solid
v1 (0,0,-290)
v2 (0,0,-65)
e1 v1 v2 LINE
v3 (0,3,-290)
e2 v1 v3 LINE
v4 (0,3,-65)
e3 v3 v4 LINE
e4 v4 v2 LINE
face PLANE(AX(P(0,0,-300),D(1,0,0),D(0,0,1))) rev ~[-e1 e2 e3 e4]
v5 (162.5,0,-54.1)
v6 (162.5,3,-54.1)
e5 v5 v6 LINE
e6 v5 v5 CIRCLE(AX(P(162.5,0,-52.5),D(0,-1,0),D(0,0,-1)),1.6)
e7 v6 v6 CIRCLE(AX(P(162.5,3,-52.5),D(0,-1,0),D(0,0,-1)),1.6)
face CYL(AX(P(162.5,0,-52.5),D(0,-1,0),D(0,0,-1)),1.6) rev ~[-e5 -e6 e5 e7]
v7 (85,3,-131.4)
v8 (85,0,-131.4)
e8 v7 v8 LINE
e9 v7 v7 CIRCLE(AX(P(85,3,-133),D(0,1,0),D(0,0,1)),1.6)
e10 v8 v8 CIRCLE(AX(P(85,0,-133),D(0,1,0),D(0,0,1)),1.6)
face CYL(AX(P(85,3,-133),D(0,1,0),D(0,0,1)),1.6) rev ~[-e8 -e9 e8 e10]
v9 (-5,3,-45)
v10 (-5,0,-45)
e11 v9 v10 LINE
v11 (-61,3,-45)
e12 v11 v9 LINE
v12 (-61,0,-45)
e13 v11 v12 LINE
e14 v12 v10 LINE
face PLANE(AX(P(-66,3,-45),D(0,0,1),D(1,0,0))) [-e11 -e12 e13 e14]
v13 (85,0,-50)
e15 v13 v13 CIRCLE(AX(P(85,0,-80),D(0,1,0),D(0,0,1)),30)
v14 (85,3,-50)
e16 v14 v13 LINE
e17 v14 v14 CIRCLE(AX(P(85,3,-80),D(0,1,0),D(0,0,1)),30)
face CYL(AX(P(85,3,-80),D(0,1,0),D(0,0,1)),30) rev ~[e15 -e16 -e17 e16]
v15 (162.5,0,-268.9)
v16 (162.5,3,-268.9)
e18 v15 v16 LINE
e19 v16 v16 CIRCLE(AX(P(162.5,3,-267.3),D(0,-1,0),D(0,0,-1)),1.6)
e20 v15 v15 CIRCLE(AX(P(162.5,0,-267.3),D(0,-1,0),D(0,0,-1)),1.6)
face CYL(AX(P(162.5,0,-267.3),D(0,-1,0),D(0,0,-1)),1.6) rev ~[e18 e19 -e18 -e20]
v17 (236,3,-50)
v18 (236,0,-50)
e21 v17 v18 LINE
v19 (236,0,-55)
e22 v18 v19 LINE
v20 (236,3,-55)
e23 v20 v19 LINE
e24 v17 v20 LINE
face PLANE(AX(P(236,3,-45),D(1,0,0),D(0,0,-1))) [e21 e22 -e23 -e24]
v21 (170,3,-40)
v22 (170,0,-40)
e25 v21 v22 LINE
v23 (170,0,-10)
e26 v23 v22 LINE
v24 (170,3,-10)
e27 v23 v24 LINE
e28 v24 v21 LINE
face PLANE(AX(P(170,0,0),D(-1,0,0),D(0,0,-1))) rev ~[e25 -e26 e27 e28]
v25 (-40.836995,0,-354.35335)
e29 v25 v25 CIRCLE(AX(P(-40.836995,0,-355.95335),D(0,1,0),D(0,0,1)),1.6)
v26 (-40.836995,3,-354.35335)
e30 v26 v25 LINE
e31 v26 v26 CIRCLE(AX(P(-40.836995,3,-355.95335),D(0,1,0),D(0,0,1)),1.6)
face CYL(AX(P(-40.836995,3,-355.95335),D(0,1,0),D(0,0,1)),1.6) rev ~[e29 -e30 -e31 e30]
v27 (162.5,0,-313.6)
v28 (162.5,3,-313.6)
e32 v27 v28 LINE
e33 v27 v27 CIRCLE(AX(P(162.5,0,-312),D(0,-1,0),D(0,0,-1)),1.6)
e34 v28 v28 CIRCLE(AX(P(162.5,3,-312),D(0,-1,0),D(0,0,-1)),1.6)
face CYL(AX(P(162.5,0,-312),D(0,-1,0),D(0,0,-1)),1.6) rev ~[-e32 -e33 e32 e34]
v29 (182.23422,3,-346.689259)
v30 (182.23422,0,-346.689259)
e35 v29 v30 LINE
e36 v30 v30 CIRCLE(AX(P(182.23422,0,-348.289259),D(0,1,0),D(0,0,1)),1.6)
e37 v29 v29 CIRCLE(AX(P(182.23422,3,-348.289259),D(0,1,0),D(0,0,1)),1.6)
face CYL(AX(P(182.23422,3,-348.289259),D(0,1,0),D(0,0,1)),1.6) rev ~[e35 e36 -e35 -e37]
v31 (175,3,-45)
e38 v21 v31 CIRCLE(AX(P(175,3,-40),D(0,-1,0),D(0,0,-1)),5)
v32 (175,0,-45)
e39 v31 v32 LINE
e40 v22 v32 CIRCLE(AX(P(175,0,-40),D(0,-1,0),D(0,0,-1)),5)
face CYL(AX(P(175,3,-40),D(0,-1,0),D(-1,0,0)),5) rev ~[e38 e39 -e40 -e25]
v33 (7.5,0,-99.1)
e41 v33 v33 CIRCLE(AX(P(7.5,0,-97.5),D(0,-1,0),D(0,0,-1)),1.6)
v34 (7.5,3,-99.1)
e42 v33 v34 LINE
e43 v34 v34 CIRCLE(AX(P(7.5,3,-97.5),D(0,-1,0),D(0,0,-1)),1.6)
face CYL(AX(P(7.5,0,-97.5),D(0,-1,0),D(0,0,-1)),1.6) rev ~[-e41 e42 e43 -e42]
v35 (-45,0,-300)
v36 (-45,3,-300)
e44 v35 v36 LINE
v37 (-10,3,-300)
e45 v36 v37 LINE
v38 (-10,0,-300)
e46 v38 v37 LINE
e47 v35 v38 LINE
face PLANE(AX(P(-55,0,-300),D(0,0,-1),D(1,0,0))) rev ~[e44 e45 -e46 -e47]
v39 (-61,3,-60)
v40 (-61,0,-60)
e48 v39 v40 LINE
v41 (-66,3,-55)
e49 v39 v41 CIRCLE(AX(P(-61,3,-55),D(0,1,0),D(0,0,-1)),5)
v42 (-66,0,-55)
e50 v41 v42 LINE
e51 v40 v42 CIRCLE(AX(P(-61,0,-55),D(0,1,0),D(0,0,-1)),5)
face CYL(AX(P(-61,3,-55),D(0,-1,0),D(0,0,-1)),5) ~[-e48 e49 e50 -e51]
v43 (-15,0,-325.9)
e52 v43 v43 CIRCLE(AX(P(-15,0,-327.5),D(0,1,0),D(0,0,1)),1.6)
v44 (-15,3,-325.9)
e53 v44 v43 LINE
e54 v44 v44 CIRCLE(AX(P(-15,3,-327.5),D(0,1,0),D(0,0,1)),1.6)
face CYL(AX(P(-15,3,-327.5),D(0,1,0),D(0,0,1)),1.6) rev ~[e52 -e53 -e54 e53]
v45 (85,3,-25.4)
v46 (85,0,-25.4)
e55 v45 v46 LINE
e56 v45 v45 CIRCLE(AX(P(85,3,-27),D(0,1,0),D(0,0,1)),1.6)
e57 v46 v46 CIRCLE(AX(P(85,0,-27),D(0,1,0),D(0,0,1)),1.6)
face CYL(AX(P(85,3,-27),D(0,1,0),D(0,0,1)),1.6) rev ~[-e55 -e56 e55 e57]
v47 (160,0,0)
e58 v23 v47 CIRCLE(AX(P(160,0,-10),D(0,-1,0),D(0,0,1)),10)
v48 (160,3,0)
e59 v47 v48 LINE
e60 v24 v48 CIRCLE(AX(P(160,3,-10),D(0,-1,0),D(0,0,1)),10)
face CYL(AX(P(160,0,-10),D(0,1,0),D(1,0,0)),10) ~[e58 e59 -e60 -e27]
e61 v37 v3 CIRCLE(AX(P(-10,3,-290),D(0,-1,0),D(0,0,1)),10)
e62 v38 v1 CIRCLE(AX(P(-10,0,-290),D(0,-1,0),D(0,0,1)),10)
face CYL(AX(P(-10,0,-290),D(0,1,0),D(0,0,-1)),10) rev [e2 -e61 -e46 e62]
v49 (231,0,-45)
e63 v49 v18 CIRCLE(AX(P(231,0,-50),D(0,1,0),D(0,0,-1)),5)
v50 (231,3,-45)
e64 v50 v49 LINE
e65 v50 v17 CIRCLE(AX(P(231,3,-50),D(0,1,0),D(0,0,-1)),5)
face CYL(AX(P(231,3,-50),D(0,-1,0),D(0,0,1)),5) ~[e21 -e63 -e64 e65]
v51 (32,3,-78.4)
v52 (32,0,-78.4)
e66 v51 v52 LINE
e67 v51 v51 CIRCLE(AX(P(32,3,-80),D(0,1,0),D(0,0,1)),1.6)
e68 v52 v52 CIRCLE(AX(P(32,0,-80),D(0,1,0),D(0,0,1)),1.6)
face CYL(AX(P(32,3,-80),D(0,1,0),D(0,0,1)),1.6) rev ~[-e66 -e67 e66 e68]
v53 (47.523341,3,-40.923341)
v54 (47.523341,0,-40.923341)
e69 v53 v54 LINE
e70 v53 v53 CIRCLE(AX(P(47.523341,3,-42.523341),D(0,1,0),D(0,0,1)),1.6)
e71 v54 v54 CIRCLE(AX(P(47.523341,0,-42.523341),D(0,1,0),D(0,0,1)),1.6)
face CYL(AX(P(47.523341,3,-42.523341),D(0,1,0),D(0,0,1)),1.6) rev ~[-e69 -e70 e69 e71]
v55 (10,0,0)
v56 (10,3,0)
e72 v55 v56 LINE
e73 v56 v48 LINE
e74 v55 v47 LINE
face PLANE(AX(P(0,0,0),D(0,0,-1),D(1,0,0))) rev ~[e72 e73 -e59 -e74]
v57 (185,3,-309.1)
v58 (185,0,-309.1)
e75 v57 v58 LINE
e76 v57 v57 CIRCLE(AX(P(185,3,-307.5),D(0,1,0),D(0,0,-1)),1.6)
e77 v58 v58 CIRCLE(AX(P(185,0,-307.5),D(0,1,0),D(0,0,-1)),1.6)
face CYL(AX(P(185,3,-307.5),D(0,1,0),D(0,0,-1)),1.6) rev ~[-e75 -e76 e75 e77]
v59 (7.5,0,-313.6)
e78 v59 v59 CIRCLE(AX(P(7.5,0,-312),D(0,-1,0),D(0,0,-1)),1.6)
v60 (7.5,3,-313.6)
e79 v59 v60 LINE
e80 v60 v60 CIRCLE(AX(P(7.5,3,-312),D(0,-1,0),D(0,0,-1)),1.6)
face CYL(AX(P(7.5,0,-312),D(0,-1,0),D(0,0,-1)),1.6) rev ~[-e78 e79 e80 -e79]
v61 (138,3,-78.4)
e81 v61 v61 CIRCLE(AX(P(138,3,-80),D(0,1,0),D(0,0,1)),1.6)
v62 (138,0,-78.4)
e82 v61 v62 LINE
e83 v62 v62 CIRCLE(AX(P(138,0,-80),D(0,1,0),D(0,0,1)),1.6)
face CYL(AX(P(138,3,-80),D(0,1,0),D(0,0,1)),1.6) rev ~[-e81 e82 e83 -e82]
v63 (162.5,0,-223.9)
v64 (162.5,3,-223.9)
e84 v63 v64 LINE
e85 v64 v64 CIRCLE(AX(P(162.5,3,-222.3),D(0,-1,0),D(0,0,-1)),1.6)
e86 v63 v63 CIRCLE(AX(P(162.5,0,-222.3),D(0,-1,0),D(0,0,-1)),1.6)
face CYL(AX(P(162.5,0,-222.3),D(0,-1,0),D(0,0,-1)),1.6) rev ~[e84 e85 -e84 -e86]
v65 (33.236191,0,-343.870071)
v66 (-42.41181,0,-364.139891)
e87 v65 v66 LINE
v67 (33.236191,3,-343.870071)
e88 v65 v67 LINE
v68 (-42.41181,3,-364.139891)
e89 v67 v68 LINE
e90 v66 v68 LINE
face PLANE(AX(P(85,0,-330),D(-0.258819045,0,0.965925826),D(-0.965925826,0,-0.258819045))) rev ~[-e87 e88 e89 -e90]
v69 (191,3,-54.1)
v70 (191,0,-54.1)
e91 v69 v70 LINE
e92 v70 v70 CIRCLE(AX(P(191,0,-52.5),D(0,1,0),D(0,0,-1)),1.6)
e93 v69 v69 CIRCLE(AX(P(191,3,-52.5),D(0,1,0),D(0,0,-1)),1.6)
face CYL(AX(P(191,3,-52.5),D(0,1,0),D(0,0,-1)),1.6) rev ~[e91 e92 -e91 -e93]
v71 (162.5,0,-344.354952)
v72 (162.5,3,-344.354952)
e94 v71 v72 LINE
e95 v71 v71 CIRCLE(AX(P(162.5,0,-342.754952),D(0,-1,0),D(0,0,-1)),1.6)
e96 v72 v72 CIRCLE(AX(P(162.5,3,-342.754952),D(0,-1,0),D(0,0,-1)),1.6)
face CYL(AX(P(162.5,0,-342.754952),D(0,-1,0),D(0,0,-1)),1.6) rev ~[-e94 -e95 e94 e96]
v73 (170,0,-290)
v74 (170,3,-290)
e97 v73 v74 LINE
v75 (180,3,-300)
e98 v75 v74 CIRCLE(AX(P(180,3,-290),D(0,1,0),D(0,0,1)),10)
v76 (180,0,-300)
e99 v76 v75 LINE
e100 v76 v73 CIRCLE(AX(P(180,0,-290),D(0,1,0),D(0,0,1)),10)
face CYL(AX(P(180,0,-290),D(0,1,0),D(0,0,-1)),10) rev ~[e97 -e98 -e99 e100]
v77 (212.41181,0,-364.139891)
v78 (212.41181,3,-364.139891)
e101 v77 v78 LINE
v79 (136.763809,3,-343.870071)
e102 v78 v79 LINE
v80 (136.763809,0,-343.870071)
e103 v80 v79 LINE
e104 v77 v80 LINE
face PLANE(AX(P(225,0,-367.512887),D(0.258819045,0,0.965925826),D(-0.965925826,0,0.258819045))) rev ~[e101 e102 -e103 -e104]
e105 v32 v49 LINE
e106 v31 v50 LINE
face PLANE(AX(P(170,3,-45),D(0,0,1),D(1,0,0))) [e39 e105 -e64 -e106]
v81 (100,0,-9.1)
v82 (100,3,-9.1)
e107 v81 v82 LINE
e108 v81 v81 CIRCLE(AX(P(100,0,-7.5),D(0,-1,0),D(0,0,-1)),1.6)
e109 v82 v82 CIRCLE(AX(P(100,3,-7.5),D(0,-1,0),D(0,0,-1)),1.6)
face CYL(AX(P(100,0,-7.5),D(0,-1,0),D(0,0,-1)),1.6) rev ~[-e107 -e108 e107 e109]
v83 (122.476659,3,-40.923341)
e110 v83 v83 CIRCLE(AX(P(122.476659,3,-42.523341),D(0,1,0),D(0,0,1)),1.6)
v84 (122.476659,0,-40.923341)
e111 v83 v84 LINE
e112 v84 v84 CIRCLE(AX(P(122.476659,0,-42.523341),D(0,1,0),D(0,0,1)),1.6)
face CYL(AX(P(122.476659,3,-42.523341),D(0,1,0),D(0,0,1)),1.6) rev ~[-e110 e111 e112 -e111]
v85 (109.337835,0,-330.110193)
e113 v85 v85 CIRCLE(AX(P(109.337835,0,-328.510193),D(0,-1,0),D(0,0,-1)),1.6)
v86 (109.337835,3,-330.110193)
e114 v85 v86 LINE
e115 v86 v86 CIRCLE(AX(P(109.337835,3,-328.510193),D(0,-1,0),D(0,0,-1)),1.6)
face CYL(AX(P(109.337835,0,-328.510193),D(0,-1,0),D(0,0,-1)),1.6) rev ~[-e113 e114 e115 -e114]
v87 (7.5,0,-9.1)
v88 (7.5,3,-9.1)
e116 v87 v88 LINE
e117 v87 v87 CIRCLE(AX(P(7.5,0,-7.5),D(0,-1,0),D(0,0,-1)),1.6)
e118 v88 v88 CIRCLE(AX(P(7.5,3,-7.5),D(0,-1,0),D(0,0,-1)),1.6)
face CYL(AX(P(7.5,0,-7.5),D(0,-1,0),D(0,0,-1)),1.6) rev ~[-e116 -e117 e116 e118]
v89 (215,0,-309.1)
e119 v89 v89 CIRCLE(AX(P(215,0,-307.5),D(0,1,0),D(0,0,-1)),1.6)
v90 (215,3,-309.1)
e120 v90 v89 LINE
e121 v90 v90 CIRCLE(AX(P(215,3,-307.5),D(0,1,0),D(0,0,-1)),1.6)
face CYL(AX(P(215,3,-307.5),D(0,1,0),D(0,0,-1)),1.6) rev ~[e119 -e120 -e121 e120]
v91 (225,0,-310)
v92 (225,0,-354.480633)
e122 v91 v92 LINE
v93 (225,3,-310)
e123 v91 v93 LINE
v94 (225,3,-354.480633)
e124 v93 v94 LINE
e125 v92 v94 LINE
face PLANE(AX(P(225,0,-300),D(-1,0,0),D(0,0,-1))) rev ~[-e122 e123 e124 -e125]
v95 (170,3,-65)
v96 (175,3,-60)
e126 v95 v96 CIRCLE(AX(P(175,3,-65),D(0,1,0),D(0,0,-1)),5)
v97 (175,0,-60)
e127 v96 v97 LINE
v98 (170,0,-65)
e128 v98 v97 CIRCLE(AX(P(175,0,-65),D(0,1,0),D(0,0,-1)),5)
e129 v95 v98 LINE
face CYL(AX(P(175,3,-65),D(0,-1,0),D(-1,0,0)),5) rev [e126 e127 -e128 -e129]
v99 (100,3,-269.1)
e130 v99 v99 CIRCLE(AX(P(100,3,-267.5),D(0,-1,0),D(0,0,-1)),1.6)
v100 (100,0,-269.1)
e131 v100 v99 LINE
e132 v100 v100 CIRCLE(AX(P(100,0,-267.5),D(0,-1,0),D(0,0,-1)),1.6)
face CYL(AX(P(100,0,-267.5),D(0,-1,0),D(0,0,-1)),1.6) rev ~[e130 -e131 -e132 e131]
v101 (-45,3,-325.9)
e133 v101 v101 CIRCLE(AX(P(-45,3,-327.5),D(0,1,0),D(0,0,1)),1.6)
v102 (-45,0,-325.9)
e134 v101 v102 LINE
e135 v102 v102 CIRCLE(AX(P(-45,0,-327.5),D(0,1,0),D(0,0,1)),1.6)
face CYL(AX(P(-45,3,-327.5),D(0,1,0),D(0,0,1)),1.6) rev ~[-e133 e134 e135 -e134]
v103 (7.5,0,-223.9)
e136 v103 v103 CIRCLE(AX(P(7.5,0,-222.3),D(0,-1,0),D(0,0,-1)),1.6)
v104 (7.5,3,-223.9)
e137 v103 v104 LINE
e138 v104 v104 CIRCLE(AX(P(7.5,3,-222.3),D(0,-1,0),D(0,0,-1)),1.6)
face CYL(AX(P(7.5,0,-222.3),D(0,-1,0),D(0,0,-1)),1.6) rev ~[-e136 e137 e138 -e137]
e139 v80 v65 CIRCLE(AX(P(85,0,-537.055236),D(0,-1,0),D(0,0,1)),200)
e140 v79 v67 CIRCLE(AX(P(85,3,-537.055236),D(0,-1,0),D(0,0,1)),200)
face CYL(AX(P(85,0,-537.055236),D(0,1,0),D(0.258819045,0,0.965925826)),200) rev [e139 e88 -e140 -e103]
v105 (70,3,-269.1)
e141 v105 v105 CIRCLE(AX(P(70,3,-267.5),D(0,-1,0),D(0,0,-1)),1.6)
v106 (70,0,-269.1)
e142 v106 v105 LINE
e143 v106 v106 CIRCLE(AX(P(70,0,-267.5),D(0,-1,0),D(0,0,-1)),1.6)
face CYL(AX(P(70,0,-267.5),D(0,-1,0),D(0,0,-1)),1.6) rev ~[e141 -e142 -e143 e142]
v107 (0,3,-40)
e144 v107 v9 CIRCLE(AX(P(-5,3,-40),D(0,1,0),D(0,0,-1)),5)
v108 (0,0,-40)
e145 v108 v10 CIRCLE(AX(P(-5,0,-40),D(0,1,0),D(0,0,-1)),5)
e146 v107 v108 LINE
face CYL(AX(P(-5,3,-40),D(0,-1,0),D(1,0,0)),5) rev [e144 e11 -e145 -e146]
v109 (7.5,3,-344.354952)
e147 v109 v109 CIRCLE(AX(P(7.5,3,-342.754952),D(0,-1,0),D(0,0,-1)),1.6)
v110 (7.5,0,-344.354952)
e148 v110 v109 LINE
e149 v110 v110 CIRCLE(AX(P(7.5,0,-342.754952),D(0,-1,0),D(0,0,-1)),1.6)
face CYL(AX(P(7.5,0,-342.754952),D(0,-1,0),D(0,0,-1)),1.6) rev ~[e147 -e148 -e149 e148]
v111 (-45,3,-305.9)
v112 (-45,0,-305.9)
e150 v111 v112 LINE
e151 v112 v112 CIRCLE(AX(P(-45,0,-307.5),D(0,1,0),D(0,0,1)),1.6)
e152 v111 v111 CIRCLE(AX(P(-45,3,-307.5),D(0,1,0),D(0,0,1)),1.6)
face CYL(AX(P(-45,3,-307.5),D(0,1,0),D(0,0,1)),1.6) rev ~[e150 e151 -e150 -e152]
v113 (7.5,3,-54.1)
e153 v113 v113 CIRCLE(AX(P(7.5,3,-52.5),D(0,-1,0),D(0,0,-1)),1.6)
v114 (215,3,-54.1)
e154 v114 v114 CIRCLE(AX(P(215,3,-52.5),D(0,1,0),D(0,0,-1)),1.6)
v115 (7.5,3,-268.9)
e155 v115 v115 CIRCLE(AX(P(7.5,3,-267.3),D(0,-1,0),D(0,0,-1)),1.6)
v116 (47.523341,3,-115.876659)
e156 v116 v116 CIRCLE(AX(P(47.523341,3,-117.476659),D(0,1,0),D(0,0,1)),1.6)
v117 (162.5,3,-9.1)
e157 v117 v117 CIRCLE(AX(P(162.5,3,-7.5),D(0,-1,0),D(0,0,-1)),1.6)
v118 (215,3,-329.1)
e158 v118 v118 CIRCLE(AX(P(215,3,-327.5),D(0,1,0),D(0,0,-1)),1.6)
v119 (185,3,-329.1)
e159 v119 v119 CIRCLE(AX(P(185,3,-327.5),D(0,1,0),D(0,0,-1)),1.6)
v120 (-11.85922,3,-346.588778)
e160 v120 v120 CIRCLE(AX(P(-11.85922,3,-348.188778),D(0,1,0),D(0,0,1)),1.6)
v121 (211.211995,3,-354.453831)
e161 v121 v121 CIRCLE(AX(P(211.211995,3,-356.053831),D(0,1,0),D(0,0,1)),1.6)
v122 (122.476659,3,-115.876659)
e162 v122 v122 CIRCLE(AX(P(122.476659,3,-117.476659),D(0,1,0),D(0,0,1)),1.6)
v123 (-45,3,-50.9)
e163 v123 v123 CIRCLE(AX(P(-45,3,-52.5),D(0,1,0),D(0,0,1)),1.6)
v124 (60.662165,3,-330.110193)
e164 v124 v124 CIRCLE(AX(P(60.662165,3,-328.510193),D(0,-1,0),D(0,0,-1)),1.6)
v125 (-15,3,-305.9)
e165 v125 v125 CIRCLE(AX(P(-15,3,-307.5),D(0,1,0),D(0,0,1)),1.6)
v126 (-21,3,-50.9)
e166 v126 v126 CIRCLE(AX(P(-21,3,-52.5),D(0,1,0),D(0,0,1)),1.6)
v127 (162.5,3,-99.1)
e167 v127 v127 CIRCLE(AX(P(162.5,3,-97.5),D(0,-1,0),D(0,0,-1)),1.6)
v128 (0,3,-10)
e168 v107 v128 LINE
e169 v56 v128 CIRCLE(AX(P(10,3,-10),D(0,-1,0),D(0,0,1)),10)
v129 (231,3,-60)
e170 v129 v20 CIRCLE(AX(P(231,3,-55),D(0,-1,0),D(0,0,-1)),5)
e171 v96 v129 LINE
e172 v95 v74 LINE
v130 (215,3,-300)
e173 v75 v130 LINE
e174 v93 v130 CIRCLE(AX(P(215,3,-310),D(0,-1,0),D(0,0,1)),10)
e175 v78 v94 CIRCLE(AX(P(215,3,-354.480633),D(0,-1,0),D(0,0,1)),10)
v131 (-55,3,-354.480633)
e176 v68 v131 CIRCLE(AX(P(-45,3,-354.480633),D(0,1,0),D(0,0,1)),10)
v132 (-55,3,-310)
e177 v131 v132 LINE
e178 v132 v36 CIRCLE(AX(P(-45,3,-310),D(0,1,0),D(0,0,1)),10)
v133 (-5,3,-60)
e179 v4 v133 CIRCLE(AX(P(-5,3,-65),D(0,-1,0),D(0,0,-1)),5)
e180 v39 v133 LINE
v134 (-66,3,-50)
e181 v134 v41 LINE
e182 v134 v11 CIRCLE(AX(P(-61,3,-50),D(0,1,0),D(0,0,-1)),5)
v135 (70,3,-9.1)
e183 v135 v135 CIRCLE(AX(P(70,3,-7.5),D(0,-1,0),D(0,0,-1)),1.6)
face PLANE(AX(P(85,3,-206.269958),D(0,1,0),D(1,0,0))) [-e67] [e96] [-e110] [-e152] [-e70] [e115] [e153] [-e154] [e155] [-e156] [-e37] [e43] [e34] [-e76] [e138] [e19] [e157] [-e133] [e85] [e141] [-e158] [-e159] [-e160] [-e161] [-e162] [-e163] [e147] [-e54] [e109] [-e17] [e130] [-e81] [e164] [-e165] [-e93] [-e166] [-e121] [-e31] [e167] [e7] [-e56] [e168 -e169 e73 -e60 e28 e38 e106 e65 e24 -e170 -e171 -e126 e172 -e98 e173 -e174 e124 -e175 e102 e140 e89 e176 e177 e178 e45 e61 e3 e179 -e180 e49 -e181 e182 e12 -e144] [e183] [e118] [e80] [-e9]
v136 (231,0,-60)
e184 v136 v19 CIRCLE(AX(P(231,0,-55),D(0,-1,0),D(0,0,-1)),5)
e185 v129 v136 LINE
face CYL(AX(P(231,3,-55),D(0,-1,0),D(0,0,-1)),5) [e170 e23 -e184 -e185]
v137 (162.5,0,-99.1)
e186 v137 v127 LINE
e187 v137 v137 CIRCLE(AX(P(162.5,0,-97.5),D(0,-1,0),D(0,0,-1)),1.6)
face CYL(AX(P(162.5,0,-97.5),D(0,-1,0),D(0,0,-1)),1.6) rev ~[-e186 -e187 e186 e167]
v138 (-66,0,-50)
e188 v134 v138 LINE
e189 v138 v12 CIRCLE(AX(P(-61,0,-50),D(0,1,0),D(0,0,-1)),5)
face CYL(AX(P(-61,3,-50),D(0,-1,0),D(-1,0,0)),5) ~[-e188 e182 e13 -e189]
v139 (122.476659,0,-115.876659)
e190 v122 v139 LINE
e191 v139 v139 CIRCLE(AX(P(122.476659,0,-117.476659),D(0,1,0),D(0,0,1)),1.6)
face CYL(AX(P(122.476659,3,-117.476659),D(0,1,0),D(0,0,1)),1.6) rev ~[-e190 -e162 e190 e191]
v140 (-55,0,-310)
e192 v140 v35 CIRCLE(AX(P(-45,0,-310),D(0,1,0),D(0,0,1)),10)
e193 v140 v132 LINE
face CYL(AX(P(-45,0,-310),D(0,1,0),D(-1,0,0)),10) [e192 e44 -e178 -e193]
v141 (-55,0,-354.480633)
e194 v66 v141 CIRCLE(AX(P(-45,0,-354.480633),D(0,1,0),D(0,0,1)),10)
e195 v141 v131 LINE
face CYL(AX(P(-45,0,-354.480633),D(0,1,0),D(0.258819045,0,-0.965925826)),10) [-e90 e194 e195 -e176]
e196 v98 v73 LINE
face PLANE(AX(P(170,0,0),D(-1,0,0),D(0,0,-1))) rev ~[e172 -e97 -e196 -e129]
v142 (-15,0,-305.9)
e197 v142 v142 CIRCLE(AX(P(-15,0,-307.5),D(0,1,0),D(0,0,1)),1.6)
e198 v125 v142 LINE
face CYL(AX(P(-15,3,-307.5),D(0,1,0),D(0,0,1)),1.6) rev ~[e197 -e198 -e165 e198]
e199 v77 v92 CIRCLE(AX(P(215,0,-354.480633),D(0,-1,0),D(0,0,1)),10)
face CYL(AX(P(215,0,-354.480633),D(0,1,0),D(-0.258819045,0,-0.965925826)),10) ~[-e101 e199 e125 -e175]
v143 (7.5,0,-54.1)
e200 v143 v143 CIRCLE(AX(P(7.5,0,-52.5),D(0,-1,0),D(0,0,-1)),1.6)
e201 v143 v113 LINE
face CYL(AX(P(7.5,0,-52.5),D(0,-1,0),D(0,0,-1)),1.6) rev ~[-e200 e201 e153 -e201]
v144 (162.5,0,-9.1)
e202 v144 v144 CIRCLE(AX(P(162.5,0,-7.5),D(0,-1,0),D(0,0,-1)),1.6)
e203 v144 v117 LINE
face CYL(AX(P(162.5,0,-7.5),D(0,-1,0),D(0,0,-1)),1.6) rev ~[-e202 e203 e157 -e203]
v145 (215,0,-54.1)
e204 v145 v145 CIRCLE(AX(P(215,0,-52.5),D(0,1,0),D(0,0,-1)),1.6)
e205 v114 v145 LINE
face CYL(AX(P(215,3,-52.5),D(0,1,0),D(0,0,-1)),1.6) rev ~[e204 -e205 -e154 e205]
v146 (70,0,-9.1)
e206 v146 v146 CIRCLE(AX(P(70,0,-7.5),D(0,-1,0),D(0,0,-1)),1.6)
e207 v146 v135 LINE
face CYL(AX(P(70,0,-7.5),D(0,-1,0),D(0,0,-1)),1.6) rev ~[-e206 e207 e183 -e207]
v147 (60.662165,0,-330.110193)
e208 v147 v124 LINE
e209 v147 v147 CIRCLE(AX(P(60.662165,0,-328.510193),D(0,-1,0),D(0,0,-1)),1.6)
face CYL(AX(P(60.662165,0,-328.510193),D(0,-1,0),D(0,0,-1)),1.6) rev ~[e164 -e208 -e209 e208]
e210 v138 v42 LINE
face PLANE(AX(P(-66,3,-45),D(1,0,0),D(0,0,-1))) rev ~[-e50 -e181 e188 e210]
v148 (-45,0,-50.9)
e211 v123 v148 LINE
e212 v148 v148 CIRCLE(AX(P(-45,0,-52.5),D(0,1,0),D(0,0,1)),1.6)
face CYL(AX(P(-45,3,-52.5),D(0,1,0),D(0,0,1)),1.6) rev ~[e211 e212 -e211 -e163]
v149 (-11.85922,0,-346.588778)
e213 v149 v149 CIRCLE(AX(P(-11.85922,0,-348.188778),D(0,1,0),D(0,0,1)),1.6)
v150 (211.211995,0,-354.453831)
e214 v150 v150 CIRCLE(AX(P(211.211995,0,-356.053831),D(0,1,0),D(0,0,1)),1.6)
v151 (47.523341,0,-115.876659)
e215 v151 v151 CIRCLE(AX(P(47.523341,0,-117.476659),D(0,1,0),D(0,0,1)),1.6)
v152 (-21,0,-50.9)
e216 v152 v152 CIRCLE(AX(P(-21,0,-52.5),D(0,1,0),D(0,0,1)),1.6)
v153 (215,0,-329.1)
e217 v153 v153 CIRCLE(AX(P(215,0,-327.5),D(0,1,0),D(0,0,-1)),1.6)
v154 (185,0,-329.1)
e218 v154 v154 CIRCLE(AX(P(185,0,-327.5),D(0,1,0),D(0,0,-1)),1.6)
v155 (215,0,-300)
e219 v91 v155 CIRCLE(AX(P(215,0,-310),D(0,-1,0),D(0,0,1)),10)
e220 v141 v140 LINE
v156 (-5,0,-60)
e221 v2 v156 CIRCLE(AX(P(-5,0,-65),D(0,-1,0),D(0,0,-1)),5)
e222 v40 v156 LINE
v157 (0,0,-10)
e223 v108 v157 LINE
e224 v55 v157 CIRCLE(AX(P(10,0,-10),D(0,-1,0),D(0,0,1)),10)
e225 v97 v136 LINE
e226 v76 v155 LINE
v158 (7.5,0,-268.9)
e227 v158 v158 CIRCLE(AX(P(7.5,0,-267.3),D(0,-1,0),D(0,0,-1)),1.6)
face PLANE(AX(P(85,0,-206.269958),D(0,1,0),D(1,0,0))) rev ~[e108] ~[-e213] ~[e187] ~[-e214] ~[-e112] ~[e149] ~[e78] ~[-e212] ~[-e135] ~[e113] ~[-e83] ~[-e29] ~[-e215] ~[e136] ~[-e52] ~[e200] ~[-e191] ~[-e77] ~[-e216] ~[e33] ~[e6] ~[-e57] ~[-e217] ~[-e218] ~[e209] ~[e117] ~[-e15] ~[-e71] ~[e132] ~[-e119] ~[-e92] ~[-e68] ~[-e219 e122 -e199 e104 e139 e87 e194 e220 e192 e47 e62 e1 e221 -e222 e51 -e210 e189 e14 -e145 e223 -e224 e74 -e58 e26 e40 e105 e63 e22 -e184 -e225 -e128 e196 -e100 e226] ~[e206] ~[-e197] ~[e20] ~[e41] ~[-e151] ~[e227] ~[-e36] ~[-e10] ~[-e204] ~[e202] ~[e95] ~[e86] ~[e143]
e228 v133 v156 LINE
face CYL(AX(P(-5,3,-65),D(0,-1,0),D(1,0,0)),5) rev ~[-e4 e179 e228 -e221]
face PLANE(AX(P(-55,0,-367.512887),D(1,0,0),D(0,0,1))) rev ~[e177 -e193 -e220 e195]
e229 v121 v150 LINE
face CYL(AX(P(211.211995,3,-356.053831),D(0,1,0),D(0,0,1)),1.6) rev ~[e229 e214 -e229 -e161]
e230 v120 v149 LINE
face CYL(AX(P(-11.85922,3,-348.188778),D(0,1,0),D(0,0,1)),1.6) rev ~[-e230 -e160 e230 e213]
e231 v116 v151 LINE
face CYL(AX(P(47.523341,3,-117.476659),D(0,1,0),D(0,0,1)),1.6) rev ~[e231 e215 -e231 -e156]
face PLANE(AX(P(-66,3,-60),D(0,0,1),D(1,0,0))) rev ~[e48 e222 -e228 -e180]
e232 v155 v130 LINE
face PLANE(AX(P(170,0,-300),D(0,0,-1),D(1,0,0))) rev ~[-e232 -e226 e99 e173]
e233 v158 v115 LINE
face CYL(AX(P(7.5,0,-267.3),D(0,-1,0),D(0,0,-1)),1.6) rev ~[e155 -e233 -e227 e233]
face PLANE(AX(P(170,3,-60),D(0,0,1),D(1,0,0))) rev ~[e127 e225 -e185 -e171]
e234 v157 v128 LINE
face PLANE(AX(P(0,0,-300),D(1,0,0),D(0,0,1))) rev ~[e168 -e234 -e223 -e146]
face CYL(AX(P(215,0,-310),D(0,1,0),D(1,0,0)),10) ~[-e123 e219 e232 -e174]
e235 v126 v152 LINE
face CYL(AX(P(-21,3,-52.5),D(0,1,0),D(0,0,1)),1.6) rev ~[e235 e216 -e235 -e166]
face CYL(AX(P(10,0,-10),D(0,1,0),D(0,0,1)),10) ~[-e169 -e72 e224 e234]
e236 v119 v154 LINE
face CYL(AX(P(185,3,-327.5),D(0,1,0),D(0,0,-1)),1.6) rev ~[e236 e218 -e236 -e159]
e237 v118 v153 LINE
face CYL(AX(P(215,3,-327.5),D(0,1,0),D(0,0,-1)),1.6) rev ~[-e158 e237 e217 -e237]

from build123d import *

# Parameters (mm, degrees)
BOSS_EXTRUDE1_DEPTH = 3
FILLET1_R           = 200
FILLET2_R           = 10
SKETCH2_R           = 30
CUT_EXTRUDE1_DEPTH  = 429.345808882
SKETCH3_W           = 66
SKETCH3_H           = 15
SKETCH3_R           = 1.6
BOSS_EXTRUDE2_DEPTH = 3
FILLET3_R           = 5
SKETCH4_R           = 1.6
CUT_EXTRUDE2_DEPTH  = 435.224748243
SKETCH5_R           = 1.6
CUT_EXTRUDE3_DEPTH  = 435.224748243
SKETCH7_R           = 1.6
CUT_EXTRUDE4_DEPTH  = 435.224748243
SKETCH8_R           = 1.6
CUT_EXTRUDE5_DEPTH  = 10


with BuildPart() as part:
    # Sketch1 → Boss-Extrude1 (new body)
    with BuildSketch(Plane(origin=(0, 0, 0), x_dir=(1, 0, 0), z_dir=(0, 1, 0))):
        Polygon((0, 0), (170, 0), (170, 300), (225, 300), (225, 367.51288694), (85, 330), (-55, 367.51288694), (-55, 300), (0, 300), align=None)
    extrude(amount=BOSS_EXTRUDE1_DEPTH)

    # Fillet1
    fillet1_edges = [part.edges().sort_by_distance(p)[0] for p in [
        (85, 1.5, -330),
    ]]
    fillet(fillet1_edges, radius=FILLET1_R)

    # Fillet2
    fillet2_edges = [part.edges().sort_by_distance(p)[0] for p in [
        (0, 1.5, -300),
        (-55, 1.5, -300),
        (-55, 1.5, -367.51288694),
        (225, 1.5, -367.51288694),
        (225, 1.5, -300),
        (170, 1.5, -300),
        (170, 1.5, 0),
        (0, 1.5, 0),
    ]]
    fillet(fillet2_edges, radius=FILLET2_R)

    # Sketch2 → Cut-Extrude1 (cut, through all)
    with BuildSketch(Plane(origin=(0, 3, 0), x_dir=(1, 0, 0), z_dir=(0, 1, 0))):
        with Locations(Location((85, 80, 0), (0, 0, 270))):
            Circle(SKETCH2_R)
    extrude(amount=-CUT_EXTRUDE1_DEPTH, mode=Mode.SUBTRACT)

    # Sketch3 → Boss-Extrude2 (add)
    # profile 1 of 2: a face of its own
    with BuildSketch(Plane(origin=(0, 3, 0), x_dir=(1, 0, 0), z_dir=(0, 1, 0))):
        with Locations((-33, 52.5)):
            Rectangle(SKETCH3_W, SKETCH3_H)
        with Locations(Location((-21, 52.5, 0), (0, 0, 270))):
            Circle(SKETCH3_R, mode=Mode.SUBTRACT)
        with Locations(Location((-45, 52.5, 0), (0, 0, 270))):
            Circle(SKETCH3_R, mode=Mode.SUBTRACT)
    # profile 2 of 2: a face of its own
    with BuildSketch(Plane(origin=(0, 3, 0), x_dir=(1, 0, 0), z_dir=(0, 1, 0))):
        with Locations((203, 52.5)):
            Rectangle(SKETCH3_W, SKETCH3_H)
        with Locations(Location((191, 52.5, 0), (0, 0, 90))):
            Circle(SKETCH3_R, mode=Mode.SUBTRACT)
        with Locations(Location((215, 52.5, 0), (0, 0, 90))):
            Circle(SKETCH3_R, mode=Mode.SUBTRACT)
    extrude(amount=-BOSS_EXTRUDE2_DEPTH)

    # Fillet3
    fillet3_edges = [part.edges().sort_by_distance(p)[0] for p in [
        (0, 1.5, -60),
        (0, 1.5, -45),
        (-66, 1.5, -45),
        (-66, 1.5, -60),
        (170, 1.5, -45),
        (170, 1.5, -60),
        (236, 1.5, -60),
        (236, 1.5, -45),
    ]]
    fillet(fillet3_edges, radius=FILLET3_R)

    # Sketch4 → Cut-Extrude2 (cut, through all)
    with BuildSketch(Plane.XZ):
        with Locations(Location((162.5, -7.5, 0), (0, 0, 270))):
            Circle(SKETCH4_R)
        with Locations(Location((162.5, -52.5, 0), (0, 0, 270))):
            Circle(SKETCH4_R)
        with Locations(Location((100, -7.5, 0), (0, 0, 270))):
            Circle(SKETCH4_R)
        with Locations(Location((70, -7.5, 0), (0, 0, 270))):
            Circle(SKETCH4_R)
        with Locations(Location((162.5, -97.5, 0), (0, 0, 270))):
            Circle(SKETCH4_R)
        with Locations(Location((162.5, -222.3, 0), (0, 0, 270))):
            Circle(SKETCH4_R)
        with Locations(Location((162.5, -267.3, 0), (0, 0, 270))):
            Circle(SKETCH4_R)
        with Locations(Location((162.5, -312, 0), (0, 0, 270))):
            Circle(SKETCH4_R)
        with Locations(Location((162.5, -342.75495241, 0), (0, 0, 270))):
            Circle(SKETCH4_R)
        with Locations(Location((109.337835254, -328.510193298, 0), (0, 0, 270))):
            Circle(SKETCH4_R)
        with Locations(Location((60.662164746, -328.510193298, 0), (0, 0, 270))):
            Circle(SKETCH4_R)
        with Locations(Location((7.5, -342.75495241, 0), (0, 0, 270))):
            Circle(SKETCH4_R)
        with Locations(Location((7.5, -312, 0), (0, 0, 270))):
            Circle(SKETCH4_R)
        with Locations(Location((7.5, -267.3, 0), (0, 0, 270))):
            Circle(SKETCH4_R)
        with Locations(Location((7.5, -222.3, 0), (0, 0, 270))):
            Circle(SKETCH4_R)
        with Locations(Location((7.5, -97.5, 0), (0, 0, 270))):
            Circle(SKETCH4_R)
        with Locations(Location((7.5, -52.5, 0), (0, 0, 270))):
            Circle(SKETCH4_R)
        with Locations(Location((7.5, -7.5, 0), (0, 0, 270))):
            Circle(SKETCH4_R)
        with Locations(Location((70, -267.5, 0), (0, 0, 270))):
            Circle(SKETCH4_R)
        with Locations(Location((100, -267.5, 0), (0, 0, 270))):
            Circle(SKETCH4_R)
    extrude(amount=-CUT_EXTRUDE2_DEPTH, mode=Mode.SUBTRACT)

    # Sketch5 → Cut-Extrude3 (cut, through all)
    with BuildSketch(Plane(origin=(0, 3, 0), x_dir=(1, 0, 0), z_dir=(0, 1, 0))):
        with Locations(Location((-40.836994935, 355.953349818, 0), (0, 0, 270))):
            Circle(SKETCH5_R)
        with Locations(Location((-11.859220146, 348.188778465, 0), (0, 0, 270))):
            Circle(SKETCH5_R)
        with Locations(Location((182.234220146, 348.289259412, 0), (0, 0, 270))):
            Circle(SKETCH5_R)
        with Locations(Location((211.211994935, 356.053830765, 0), (0, 0, 270))):
            Circle(SKETCH5_R)
    extrude(amount=-CUT_EXTRUDE3_DEPTH, mode=Mode.SUBTRACT)

    # Sketch7 → Cut-Extrude4 (cut, through all)
    with BuildSketch(Plane(origin=(0, 3, 0), x_dir=(1, 0, 0), z_dir=(0, 1, 0))):
        with Locations(Location((-45, 327.5, 0), (0, 0, 270))):
            Circle(SKETCH7_R)
        with Locations(Location((-45, 307.5, 0), (0, 0, 270))):
            Circle(SKETCH7_R)
        with Locations(Location((-15, 327.5, 0), (0, 0, 270))):
            Circle(SKETCH7_R)
        with Locations(Location((-15, 307.5, 0), (0, 0, 270))):
            Circle(SKETCH7_R)
        with Locations(Location((185, 327.5, 0), (0, 0, 90))):
            Circle(SKETCH7_R)
        with Locations(Location((185, 307.5, 0), (0, 0, 90))):
            Circle(SKETCH7_R)
        with Locations(Location((215, 307.5, 0), (0, 0, 90))):
            Circle(SKETCH7_R)
        with Locations(Location((215, 327.5, 0), (0, 0, 90))):
            Circle(SKETCH7_R)
    extrude(amount=-CUT_EXTRUDE4_DEPTH, mode=Mode.SUBTRACT)

    # Sketch8 → Cut-Extrude5 (cut)
    with BuildSketch(Plane(origin=(0, 3, 0), x_dir=(1, 0, 0), z_dir=(0, 1, 0))):
        with Locations(Location((85, 133, 0), (0, 0, 270))):
            Circle(SKETCH8_R)
        with Locations(Location((122.476659403, 117.476659403, 0), (0, 0, 270))):
            Circle(SKETCH8_R)
        with Locations(Location((138, 80, 0), (0, 0, 270))):
            Circle(SKETCH8_R)
        with Locations(Location((122.476659403, 42.523340597, 0), (0, 0, 270))):
            Circle(SKETCH8_R)
        with Locations(Location((85, 27, 0), (0, 0, 270))):
            Circle(SKETCH8_R)
        with Locations(Location((47.523340597, 42.523340597, 0), (0, 0, 270))):
            Circle(SKETCH8_R)
        with Locations(Location((32, 80, 0), (0, 0, 270))):
            Circle(SKETCH8_R)
        with Locations(Location((47.523340597, 117.476659403, 0), (0, 0, 270))):
            Circle(SKETCH8_R)
    extrude(amount=-CUT_EXTRUDE5_DEPTH, mode=Mode.SUBTRACT)


solid = part.part
